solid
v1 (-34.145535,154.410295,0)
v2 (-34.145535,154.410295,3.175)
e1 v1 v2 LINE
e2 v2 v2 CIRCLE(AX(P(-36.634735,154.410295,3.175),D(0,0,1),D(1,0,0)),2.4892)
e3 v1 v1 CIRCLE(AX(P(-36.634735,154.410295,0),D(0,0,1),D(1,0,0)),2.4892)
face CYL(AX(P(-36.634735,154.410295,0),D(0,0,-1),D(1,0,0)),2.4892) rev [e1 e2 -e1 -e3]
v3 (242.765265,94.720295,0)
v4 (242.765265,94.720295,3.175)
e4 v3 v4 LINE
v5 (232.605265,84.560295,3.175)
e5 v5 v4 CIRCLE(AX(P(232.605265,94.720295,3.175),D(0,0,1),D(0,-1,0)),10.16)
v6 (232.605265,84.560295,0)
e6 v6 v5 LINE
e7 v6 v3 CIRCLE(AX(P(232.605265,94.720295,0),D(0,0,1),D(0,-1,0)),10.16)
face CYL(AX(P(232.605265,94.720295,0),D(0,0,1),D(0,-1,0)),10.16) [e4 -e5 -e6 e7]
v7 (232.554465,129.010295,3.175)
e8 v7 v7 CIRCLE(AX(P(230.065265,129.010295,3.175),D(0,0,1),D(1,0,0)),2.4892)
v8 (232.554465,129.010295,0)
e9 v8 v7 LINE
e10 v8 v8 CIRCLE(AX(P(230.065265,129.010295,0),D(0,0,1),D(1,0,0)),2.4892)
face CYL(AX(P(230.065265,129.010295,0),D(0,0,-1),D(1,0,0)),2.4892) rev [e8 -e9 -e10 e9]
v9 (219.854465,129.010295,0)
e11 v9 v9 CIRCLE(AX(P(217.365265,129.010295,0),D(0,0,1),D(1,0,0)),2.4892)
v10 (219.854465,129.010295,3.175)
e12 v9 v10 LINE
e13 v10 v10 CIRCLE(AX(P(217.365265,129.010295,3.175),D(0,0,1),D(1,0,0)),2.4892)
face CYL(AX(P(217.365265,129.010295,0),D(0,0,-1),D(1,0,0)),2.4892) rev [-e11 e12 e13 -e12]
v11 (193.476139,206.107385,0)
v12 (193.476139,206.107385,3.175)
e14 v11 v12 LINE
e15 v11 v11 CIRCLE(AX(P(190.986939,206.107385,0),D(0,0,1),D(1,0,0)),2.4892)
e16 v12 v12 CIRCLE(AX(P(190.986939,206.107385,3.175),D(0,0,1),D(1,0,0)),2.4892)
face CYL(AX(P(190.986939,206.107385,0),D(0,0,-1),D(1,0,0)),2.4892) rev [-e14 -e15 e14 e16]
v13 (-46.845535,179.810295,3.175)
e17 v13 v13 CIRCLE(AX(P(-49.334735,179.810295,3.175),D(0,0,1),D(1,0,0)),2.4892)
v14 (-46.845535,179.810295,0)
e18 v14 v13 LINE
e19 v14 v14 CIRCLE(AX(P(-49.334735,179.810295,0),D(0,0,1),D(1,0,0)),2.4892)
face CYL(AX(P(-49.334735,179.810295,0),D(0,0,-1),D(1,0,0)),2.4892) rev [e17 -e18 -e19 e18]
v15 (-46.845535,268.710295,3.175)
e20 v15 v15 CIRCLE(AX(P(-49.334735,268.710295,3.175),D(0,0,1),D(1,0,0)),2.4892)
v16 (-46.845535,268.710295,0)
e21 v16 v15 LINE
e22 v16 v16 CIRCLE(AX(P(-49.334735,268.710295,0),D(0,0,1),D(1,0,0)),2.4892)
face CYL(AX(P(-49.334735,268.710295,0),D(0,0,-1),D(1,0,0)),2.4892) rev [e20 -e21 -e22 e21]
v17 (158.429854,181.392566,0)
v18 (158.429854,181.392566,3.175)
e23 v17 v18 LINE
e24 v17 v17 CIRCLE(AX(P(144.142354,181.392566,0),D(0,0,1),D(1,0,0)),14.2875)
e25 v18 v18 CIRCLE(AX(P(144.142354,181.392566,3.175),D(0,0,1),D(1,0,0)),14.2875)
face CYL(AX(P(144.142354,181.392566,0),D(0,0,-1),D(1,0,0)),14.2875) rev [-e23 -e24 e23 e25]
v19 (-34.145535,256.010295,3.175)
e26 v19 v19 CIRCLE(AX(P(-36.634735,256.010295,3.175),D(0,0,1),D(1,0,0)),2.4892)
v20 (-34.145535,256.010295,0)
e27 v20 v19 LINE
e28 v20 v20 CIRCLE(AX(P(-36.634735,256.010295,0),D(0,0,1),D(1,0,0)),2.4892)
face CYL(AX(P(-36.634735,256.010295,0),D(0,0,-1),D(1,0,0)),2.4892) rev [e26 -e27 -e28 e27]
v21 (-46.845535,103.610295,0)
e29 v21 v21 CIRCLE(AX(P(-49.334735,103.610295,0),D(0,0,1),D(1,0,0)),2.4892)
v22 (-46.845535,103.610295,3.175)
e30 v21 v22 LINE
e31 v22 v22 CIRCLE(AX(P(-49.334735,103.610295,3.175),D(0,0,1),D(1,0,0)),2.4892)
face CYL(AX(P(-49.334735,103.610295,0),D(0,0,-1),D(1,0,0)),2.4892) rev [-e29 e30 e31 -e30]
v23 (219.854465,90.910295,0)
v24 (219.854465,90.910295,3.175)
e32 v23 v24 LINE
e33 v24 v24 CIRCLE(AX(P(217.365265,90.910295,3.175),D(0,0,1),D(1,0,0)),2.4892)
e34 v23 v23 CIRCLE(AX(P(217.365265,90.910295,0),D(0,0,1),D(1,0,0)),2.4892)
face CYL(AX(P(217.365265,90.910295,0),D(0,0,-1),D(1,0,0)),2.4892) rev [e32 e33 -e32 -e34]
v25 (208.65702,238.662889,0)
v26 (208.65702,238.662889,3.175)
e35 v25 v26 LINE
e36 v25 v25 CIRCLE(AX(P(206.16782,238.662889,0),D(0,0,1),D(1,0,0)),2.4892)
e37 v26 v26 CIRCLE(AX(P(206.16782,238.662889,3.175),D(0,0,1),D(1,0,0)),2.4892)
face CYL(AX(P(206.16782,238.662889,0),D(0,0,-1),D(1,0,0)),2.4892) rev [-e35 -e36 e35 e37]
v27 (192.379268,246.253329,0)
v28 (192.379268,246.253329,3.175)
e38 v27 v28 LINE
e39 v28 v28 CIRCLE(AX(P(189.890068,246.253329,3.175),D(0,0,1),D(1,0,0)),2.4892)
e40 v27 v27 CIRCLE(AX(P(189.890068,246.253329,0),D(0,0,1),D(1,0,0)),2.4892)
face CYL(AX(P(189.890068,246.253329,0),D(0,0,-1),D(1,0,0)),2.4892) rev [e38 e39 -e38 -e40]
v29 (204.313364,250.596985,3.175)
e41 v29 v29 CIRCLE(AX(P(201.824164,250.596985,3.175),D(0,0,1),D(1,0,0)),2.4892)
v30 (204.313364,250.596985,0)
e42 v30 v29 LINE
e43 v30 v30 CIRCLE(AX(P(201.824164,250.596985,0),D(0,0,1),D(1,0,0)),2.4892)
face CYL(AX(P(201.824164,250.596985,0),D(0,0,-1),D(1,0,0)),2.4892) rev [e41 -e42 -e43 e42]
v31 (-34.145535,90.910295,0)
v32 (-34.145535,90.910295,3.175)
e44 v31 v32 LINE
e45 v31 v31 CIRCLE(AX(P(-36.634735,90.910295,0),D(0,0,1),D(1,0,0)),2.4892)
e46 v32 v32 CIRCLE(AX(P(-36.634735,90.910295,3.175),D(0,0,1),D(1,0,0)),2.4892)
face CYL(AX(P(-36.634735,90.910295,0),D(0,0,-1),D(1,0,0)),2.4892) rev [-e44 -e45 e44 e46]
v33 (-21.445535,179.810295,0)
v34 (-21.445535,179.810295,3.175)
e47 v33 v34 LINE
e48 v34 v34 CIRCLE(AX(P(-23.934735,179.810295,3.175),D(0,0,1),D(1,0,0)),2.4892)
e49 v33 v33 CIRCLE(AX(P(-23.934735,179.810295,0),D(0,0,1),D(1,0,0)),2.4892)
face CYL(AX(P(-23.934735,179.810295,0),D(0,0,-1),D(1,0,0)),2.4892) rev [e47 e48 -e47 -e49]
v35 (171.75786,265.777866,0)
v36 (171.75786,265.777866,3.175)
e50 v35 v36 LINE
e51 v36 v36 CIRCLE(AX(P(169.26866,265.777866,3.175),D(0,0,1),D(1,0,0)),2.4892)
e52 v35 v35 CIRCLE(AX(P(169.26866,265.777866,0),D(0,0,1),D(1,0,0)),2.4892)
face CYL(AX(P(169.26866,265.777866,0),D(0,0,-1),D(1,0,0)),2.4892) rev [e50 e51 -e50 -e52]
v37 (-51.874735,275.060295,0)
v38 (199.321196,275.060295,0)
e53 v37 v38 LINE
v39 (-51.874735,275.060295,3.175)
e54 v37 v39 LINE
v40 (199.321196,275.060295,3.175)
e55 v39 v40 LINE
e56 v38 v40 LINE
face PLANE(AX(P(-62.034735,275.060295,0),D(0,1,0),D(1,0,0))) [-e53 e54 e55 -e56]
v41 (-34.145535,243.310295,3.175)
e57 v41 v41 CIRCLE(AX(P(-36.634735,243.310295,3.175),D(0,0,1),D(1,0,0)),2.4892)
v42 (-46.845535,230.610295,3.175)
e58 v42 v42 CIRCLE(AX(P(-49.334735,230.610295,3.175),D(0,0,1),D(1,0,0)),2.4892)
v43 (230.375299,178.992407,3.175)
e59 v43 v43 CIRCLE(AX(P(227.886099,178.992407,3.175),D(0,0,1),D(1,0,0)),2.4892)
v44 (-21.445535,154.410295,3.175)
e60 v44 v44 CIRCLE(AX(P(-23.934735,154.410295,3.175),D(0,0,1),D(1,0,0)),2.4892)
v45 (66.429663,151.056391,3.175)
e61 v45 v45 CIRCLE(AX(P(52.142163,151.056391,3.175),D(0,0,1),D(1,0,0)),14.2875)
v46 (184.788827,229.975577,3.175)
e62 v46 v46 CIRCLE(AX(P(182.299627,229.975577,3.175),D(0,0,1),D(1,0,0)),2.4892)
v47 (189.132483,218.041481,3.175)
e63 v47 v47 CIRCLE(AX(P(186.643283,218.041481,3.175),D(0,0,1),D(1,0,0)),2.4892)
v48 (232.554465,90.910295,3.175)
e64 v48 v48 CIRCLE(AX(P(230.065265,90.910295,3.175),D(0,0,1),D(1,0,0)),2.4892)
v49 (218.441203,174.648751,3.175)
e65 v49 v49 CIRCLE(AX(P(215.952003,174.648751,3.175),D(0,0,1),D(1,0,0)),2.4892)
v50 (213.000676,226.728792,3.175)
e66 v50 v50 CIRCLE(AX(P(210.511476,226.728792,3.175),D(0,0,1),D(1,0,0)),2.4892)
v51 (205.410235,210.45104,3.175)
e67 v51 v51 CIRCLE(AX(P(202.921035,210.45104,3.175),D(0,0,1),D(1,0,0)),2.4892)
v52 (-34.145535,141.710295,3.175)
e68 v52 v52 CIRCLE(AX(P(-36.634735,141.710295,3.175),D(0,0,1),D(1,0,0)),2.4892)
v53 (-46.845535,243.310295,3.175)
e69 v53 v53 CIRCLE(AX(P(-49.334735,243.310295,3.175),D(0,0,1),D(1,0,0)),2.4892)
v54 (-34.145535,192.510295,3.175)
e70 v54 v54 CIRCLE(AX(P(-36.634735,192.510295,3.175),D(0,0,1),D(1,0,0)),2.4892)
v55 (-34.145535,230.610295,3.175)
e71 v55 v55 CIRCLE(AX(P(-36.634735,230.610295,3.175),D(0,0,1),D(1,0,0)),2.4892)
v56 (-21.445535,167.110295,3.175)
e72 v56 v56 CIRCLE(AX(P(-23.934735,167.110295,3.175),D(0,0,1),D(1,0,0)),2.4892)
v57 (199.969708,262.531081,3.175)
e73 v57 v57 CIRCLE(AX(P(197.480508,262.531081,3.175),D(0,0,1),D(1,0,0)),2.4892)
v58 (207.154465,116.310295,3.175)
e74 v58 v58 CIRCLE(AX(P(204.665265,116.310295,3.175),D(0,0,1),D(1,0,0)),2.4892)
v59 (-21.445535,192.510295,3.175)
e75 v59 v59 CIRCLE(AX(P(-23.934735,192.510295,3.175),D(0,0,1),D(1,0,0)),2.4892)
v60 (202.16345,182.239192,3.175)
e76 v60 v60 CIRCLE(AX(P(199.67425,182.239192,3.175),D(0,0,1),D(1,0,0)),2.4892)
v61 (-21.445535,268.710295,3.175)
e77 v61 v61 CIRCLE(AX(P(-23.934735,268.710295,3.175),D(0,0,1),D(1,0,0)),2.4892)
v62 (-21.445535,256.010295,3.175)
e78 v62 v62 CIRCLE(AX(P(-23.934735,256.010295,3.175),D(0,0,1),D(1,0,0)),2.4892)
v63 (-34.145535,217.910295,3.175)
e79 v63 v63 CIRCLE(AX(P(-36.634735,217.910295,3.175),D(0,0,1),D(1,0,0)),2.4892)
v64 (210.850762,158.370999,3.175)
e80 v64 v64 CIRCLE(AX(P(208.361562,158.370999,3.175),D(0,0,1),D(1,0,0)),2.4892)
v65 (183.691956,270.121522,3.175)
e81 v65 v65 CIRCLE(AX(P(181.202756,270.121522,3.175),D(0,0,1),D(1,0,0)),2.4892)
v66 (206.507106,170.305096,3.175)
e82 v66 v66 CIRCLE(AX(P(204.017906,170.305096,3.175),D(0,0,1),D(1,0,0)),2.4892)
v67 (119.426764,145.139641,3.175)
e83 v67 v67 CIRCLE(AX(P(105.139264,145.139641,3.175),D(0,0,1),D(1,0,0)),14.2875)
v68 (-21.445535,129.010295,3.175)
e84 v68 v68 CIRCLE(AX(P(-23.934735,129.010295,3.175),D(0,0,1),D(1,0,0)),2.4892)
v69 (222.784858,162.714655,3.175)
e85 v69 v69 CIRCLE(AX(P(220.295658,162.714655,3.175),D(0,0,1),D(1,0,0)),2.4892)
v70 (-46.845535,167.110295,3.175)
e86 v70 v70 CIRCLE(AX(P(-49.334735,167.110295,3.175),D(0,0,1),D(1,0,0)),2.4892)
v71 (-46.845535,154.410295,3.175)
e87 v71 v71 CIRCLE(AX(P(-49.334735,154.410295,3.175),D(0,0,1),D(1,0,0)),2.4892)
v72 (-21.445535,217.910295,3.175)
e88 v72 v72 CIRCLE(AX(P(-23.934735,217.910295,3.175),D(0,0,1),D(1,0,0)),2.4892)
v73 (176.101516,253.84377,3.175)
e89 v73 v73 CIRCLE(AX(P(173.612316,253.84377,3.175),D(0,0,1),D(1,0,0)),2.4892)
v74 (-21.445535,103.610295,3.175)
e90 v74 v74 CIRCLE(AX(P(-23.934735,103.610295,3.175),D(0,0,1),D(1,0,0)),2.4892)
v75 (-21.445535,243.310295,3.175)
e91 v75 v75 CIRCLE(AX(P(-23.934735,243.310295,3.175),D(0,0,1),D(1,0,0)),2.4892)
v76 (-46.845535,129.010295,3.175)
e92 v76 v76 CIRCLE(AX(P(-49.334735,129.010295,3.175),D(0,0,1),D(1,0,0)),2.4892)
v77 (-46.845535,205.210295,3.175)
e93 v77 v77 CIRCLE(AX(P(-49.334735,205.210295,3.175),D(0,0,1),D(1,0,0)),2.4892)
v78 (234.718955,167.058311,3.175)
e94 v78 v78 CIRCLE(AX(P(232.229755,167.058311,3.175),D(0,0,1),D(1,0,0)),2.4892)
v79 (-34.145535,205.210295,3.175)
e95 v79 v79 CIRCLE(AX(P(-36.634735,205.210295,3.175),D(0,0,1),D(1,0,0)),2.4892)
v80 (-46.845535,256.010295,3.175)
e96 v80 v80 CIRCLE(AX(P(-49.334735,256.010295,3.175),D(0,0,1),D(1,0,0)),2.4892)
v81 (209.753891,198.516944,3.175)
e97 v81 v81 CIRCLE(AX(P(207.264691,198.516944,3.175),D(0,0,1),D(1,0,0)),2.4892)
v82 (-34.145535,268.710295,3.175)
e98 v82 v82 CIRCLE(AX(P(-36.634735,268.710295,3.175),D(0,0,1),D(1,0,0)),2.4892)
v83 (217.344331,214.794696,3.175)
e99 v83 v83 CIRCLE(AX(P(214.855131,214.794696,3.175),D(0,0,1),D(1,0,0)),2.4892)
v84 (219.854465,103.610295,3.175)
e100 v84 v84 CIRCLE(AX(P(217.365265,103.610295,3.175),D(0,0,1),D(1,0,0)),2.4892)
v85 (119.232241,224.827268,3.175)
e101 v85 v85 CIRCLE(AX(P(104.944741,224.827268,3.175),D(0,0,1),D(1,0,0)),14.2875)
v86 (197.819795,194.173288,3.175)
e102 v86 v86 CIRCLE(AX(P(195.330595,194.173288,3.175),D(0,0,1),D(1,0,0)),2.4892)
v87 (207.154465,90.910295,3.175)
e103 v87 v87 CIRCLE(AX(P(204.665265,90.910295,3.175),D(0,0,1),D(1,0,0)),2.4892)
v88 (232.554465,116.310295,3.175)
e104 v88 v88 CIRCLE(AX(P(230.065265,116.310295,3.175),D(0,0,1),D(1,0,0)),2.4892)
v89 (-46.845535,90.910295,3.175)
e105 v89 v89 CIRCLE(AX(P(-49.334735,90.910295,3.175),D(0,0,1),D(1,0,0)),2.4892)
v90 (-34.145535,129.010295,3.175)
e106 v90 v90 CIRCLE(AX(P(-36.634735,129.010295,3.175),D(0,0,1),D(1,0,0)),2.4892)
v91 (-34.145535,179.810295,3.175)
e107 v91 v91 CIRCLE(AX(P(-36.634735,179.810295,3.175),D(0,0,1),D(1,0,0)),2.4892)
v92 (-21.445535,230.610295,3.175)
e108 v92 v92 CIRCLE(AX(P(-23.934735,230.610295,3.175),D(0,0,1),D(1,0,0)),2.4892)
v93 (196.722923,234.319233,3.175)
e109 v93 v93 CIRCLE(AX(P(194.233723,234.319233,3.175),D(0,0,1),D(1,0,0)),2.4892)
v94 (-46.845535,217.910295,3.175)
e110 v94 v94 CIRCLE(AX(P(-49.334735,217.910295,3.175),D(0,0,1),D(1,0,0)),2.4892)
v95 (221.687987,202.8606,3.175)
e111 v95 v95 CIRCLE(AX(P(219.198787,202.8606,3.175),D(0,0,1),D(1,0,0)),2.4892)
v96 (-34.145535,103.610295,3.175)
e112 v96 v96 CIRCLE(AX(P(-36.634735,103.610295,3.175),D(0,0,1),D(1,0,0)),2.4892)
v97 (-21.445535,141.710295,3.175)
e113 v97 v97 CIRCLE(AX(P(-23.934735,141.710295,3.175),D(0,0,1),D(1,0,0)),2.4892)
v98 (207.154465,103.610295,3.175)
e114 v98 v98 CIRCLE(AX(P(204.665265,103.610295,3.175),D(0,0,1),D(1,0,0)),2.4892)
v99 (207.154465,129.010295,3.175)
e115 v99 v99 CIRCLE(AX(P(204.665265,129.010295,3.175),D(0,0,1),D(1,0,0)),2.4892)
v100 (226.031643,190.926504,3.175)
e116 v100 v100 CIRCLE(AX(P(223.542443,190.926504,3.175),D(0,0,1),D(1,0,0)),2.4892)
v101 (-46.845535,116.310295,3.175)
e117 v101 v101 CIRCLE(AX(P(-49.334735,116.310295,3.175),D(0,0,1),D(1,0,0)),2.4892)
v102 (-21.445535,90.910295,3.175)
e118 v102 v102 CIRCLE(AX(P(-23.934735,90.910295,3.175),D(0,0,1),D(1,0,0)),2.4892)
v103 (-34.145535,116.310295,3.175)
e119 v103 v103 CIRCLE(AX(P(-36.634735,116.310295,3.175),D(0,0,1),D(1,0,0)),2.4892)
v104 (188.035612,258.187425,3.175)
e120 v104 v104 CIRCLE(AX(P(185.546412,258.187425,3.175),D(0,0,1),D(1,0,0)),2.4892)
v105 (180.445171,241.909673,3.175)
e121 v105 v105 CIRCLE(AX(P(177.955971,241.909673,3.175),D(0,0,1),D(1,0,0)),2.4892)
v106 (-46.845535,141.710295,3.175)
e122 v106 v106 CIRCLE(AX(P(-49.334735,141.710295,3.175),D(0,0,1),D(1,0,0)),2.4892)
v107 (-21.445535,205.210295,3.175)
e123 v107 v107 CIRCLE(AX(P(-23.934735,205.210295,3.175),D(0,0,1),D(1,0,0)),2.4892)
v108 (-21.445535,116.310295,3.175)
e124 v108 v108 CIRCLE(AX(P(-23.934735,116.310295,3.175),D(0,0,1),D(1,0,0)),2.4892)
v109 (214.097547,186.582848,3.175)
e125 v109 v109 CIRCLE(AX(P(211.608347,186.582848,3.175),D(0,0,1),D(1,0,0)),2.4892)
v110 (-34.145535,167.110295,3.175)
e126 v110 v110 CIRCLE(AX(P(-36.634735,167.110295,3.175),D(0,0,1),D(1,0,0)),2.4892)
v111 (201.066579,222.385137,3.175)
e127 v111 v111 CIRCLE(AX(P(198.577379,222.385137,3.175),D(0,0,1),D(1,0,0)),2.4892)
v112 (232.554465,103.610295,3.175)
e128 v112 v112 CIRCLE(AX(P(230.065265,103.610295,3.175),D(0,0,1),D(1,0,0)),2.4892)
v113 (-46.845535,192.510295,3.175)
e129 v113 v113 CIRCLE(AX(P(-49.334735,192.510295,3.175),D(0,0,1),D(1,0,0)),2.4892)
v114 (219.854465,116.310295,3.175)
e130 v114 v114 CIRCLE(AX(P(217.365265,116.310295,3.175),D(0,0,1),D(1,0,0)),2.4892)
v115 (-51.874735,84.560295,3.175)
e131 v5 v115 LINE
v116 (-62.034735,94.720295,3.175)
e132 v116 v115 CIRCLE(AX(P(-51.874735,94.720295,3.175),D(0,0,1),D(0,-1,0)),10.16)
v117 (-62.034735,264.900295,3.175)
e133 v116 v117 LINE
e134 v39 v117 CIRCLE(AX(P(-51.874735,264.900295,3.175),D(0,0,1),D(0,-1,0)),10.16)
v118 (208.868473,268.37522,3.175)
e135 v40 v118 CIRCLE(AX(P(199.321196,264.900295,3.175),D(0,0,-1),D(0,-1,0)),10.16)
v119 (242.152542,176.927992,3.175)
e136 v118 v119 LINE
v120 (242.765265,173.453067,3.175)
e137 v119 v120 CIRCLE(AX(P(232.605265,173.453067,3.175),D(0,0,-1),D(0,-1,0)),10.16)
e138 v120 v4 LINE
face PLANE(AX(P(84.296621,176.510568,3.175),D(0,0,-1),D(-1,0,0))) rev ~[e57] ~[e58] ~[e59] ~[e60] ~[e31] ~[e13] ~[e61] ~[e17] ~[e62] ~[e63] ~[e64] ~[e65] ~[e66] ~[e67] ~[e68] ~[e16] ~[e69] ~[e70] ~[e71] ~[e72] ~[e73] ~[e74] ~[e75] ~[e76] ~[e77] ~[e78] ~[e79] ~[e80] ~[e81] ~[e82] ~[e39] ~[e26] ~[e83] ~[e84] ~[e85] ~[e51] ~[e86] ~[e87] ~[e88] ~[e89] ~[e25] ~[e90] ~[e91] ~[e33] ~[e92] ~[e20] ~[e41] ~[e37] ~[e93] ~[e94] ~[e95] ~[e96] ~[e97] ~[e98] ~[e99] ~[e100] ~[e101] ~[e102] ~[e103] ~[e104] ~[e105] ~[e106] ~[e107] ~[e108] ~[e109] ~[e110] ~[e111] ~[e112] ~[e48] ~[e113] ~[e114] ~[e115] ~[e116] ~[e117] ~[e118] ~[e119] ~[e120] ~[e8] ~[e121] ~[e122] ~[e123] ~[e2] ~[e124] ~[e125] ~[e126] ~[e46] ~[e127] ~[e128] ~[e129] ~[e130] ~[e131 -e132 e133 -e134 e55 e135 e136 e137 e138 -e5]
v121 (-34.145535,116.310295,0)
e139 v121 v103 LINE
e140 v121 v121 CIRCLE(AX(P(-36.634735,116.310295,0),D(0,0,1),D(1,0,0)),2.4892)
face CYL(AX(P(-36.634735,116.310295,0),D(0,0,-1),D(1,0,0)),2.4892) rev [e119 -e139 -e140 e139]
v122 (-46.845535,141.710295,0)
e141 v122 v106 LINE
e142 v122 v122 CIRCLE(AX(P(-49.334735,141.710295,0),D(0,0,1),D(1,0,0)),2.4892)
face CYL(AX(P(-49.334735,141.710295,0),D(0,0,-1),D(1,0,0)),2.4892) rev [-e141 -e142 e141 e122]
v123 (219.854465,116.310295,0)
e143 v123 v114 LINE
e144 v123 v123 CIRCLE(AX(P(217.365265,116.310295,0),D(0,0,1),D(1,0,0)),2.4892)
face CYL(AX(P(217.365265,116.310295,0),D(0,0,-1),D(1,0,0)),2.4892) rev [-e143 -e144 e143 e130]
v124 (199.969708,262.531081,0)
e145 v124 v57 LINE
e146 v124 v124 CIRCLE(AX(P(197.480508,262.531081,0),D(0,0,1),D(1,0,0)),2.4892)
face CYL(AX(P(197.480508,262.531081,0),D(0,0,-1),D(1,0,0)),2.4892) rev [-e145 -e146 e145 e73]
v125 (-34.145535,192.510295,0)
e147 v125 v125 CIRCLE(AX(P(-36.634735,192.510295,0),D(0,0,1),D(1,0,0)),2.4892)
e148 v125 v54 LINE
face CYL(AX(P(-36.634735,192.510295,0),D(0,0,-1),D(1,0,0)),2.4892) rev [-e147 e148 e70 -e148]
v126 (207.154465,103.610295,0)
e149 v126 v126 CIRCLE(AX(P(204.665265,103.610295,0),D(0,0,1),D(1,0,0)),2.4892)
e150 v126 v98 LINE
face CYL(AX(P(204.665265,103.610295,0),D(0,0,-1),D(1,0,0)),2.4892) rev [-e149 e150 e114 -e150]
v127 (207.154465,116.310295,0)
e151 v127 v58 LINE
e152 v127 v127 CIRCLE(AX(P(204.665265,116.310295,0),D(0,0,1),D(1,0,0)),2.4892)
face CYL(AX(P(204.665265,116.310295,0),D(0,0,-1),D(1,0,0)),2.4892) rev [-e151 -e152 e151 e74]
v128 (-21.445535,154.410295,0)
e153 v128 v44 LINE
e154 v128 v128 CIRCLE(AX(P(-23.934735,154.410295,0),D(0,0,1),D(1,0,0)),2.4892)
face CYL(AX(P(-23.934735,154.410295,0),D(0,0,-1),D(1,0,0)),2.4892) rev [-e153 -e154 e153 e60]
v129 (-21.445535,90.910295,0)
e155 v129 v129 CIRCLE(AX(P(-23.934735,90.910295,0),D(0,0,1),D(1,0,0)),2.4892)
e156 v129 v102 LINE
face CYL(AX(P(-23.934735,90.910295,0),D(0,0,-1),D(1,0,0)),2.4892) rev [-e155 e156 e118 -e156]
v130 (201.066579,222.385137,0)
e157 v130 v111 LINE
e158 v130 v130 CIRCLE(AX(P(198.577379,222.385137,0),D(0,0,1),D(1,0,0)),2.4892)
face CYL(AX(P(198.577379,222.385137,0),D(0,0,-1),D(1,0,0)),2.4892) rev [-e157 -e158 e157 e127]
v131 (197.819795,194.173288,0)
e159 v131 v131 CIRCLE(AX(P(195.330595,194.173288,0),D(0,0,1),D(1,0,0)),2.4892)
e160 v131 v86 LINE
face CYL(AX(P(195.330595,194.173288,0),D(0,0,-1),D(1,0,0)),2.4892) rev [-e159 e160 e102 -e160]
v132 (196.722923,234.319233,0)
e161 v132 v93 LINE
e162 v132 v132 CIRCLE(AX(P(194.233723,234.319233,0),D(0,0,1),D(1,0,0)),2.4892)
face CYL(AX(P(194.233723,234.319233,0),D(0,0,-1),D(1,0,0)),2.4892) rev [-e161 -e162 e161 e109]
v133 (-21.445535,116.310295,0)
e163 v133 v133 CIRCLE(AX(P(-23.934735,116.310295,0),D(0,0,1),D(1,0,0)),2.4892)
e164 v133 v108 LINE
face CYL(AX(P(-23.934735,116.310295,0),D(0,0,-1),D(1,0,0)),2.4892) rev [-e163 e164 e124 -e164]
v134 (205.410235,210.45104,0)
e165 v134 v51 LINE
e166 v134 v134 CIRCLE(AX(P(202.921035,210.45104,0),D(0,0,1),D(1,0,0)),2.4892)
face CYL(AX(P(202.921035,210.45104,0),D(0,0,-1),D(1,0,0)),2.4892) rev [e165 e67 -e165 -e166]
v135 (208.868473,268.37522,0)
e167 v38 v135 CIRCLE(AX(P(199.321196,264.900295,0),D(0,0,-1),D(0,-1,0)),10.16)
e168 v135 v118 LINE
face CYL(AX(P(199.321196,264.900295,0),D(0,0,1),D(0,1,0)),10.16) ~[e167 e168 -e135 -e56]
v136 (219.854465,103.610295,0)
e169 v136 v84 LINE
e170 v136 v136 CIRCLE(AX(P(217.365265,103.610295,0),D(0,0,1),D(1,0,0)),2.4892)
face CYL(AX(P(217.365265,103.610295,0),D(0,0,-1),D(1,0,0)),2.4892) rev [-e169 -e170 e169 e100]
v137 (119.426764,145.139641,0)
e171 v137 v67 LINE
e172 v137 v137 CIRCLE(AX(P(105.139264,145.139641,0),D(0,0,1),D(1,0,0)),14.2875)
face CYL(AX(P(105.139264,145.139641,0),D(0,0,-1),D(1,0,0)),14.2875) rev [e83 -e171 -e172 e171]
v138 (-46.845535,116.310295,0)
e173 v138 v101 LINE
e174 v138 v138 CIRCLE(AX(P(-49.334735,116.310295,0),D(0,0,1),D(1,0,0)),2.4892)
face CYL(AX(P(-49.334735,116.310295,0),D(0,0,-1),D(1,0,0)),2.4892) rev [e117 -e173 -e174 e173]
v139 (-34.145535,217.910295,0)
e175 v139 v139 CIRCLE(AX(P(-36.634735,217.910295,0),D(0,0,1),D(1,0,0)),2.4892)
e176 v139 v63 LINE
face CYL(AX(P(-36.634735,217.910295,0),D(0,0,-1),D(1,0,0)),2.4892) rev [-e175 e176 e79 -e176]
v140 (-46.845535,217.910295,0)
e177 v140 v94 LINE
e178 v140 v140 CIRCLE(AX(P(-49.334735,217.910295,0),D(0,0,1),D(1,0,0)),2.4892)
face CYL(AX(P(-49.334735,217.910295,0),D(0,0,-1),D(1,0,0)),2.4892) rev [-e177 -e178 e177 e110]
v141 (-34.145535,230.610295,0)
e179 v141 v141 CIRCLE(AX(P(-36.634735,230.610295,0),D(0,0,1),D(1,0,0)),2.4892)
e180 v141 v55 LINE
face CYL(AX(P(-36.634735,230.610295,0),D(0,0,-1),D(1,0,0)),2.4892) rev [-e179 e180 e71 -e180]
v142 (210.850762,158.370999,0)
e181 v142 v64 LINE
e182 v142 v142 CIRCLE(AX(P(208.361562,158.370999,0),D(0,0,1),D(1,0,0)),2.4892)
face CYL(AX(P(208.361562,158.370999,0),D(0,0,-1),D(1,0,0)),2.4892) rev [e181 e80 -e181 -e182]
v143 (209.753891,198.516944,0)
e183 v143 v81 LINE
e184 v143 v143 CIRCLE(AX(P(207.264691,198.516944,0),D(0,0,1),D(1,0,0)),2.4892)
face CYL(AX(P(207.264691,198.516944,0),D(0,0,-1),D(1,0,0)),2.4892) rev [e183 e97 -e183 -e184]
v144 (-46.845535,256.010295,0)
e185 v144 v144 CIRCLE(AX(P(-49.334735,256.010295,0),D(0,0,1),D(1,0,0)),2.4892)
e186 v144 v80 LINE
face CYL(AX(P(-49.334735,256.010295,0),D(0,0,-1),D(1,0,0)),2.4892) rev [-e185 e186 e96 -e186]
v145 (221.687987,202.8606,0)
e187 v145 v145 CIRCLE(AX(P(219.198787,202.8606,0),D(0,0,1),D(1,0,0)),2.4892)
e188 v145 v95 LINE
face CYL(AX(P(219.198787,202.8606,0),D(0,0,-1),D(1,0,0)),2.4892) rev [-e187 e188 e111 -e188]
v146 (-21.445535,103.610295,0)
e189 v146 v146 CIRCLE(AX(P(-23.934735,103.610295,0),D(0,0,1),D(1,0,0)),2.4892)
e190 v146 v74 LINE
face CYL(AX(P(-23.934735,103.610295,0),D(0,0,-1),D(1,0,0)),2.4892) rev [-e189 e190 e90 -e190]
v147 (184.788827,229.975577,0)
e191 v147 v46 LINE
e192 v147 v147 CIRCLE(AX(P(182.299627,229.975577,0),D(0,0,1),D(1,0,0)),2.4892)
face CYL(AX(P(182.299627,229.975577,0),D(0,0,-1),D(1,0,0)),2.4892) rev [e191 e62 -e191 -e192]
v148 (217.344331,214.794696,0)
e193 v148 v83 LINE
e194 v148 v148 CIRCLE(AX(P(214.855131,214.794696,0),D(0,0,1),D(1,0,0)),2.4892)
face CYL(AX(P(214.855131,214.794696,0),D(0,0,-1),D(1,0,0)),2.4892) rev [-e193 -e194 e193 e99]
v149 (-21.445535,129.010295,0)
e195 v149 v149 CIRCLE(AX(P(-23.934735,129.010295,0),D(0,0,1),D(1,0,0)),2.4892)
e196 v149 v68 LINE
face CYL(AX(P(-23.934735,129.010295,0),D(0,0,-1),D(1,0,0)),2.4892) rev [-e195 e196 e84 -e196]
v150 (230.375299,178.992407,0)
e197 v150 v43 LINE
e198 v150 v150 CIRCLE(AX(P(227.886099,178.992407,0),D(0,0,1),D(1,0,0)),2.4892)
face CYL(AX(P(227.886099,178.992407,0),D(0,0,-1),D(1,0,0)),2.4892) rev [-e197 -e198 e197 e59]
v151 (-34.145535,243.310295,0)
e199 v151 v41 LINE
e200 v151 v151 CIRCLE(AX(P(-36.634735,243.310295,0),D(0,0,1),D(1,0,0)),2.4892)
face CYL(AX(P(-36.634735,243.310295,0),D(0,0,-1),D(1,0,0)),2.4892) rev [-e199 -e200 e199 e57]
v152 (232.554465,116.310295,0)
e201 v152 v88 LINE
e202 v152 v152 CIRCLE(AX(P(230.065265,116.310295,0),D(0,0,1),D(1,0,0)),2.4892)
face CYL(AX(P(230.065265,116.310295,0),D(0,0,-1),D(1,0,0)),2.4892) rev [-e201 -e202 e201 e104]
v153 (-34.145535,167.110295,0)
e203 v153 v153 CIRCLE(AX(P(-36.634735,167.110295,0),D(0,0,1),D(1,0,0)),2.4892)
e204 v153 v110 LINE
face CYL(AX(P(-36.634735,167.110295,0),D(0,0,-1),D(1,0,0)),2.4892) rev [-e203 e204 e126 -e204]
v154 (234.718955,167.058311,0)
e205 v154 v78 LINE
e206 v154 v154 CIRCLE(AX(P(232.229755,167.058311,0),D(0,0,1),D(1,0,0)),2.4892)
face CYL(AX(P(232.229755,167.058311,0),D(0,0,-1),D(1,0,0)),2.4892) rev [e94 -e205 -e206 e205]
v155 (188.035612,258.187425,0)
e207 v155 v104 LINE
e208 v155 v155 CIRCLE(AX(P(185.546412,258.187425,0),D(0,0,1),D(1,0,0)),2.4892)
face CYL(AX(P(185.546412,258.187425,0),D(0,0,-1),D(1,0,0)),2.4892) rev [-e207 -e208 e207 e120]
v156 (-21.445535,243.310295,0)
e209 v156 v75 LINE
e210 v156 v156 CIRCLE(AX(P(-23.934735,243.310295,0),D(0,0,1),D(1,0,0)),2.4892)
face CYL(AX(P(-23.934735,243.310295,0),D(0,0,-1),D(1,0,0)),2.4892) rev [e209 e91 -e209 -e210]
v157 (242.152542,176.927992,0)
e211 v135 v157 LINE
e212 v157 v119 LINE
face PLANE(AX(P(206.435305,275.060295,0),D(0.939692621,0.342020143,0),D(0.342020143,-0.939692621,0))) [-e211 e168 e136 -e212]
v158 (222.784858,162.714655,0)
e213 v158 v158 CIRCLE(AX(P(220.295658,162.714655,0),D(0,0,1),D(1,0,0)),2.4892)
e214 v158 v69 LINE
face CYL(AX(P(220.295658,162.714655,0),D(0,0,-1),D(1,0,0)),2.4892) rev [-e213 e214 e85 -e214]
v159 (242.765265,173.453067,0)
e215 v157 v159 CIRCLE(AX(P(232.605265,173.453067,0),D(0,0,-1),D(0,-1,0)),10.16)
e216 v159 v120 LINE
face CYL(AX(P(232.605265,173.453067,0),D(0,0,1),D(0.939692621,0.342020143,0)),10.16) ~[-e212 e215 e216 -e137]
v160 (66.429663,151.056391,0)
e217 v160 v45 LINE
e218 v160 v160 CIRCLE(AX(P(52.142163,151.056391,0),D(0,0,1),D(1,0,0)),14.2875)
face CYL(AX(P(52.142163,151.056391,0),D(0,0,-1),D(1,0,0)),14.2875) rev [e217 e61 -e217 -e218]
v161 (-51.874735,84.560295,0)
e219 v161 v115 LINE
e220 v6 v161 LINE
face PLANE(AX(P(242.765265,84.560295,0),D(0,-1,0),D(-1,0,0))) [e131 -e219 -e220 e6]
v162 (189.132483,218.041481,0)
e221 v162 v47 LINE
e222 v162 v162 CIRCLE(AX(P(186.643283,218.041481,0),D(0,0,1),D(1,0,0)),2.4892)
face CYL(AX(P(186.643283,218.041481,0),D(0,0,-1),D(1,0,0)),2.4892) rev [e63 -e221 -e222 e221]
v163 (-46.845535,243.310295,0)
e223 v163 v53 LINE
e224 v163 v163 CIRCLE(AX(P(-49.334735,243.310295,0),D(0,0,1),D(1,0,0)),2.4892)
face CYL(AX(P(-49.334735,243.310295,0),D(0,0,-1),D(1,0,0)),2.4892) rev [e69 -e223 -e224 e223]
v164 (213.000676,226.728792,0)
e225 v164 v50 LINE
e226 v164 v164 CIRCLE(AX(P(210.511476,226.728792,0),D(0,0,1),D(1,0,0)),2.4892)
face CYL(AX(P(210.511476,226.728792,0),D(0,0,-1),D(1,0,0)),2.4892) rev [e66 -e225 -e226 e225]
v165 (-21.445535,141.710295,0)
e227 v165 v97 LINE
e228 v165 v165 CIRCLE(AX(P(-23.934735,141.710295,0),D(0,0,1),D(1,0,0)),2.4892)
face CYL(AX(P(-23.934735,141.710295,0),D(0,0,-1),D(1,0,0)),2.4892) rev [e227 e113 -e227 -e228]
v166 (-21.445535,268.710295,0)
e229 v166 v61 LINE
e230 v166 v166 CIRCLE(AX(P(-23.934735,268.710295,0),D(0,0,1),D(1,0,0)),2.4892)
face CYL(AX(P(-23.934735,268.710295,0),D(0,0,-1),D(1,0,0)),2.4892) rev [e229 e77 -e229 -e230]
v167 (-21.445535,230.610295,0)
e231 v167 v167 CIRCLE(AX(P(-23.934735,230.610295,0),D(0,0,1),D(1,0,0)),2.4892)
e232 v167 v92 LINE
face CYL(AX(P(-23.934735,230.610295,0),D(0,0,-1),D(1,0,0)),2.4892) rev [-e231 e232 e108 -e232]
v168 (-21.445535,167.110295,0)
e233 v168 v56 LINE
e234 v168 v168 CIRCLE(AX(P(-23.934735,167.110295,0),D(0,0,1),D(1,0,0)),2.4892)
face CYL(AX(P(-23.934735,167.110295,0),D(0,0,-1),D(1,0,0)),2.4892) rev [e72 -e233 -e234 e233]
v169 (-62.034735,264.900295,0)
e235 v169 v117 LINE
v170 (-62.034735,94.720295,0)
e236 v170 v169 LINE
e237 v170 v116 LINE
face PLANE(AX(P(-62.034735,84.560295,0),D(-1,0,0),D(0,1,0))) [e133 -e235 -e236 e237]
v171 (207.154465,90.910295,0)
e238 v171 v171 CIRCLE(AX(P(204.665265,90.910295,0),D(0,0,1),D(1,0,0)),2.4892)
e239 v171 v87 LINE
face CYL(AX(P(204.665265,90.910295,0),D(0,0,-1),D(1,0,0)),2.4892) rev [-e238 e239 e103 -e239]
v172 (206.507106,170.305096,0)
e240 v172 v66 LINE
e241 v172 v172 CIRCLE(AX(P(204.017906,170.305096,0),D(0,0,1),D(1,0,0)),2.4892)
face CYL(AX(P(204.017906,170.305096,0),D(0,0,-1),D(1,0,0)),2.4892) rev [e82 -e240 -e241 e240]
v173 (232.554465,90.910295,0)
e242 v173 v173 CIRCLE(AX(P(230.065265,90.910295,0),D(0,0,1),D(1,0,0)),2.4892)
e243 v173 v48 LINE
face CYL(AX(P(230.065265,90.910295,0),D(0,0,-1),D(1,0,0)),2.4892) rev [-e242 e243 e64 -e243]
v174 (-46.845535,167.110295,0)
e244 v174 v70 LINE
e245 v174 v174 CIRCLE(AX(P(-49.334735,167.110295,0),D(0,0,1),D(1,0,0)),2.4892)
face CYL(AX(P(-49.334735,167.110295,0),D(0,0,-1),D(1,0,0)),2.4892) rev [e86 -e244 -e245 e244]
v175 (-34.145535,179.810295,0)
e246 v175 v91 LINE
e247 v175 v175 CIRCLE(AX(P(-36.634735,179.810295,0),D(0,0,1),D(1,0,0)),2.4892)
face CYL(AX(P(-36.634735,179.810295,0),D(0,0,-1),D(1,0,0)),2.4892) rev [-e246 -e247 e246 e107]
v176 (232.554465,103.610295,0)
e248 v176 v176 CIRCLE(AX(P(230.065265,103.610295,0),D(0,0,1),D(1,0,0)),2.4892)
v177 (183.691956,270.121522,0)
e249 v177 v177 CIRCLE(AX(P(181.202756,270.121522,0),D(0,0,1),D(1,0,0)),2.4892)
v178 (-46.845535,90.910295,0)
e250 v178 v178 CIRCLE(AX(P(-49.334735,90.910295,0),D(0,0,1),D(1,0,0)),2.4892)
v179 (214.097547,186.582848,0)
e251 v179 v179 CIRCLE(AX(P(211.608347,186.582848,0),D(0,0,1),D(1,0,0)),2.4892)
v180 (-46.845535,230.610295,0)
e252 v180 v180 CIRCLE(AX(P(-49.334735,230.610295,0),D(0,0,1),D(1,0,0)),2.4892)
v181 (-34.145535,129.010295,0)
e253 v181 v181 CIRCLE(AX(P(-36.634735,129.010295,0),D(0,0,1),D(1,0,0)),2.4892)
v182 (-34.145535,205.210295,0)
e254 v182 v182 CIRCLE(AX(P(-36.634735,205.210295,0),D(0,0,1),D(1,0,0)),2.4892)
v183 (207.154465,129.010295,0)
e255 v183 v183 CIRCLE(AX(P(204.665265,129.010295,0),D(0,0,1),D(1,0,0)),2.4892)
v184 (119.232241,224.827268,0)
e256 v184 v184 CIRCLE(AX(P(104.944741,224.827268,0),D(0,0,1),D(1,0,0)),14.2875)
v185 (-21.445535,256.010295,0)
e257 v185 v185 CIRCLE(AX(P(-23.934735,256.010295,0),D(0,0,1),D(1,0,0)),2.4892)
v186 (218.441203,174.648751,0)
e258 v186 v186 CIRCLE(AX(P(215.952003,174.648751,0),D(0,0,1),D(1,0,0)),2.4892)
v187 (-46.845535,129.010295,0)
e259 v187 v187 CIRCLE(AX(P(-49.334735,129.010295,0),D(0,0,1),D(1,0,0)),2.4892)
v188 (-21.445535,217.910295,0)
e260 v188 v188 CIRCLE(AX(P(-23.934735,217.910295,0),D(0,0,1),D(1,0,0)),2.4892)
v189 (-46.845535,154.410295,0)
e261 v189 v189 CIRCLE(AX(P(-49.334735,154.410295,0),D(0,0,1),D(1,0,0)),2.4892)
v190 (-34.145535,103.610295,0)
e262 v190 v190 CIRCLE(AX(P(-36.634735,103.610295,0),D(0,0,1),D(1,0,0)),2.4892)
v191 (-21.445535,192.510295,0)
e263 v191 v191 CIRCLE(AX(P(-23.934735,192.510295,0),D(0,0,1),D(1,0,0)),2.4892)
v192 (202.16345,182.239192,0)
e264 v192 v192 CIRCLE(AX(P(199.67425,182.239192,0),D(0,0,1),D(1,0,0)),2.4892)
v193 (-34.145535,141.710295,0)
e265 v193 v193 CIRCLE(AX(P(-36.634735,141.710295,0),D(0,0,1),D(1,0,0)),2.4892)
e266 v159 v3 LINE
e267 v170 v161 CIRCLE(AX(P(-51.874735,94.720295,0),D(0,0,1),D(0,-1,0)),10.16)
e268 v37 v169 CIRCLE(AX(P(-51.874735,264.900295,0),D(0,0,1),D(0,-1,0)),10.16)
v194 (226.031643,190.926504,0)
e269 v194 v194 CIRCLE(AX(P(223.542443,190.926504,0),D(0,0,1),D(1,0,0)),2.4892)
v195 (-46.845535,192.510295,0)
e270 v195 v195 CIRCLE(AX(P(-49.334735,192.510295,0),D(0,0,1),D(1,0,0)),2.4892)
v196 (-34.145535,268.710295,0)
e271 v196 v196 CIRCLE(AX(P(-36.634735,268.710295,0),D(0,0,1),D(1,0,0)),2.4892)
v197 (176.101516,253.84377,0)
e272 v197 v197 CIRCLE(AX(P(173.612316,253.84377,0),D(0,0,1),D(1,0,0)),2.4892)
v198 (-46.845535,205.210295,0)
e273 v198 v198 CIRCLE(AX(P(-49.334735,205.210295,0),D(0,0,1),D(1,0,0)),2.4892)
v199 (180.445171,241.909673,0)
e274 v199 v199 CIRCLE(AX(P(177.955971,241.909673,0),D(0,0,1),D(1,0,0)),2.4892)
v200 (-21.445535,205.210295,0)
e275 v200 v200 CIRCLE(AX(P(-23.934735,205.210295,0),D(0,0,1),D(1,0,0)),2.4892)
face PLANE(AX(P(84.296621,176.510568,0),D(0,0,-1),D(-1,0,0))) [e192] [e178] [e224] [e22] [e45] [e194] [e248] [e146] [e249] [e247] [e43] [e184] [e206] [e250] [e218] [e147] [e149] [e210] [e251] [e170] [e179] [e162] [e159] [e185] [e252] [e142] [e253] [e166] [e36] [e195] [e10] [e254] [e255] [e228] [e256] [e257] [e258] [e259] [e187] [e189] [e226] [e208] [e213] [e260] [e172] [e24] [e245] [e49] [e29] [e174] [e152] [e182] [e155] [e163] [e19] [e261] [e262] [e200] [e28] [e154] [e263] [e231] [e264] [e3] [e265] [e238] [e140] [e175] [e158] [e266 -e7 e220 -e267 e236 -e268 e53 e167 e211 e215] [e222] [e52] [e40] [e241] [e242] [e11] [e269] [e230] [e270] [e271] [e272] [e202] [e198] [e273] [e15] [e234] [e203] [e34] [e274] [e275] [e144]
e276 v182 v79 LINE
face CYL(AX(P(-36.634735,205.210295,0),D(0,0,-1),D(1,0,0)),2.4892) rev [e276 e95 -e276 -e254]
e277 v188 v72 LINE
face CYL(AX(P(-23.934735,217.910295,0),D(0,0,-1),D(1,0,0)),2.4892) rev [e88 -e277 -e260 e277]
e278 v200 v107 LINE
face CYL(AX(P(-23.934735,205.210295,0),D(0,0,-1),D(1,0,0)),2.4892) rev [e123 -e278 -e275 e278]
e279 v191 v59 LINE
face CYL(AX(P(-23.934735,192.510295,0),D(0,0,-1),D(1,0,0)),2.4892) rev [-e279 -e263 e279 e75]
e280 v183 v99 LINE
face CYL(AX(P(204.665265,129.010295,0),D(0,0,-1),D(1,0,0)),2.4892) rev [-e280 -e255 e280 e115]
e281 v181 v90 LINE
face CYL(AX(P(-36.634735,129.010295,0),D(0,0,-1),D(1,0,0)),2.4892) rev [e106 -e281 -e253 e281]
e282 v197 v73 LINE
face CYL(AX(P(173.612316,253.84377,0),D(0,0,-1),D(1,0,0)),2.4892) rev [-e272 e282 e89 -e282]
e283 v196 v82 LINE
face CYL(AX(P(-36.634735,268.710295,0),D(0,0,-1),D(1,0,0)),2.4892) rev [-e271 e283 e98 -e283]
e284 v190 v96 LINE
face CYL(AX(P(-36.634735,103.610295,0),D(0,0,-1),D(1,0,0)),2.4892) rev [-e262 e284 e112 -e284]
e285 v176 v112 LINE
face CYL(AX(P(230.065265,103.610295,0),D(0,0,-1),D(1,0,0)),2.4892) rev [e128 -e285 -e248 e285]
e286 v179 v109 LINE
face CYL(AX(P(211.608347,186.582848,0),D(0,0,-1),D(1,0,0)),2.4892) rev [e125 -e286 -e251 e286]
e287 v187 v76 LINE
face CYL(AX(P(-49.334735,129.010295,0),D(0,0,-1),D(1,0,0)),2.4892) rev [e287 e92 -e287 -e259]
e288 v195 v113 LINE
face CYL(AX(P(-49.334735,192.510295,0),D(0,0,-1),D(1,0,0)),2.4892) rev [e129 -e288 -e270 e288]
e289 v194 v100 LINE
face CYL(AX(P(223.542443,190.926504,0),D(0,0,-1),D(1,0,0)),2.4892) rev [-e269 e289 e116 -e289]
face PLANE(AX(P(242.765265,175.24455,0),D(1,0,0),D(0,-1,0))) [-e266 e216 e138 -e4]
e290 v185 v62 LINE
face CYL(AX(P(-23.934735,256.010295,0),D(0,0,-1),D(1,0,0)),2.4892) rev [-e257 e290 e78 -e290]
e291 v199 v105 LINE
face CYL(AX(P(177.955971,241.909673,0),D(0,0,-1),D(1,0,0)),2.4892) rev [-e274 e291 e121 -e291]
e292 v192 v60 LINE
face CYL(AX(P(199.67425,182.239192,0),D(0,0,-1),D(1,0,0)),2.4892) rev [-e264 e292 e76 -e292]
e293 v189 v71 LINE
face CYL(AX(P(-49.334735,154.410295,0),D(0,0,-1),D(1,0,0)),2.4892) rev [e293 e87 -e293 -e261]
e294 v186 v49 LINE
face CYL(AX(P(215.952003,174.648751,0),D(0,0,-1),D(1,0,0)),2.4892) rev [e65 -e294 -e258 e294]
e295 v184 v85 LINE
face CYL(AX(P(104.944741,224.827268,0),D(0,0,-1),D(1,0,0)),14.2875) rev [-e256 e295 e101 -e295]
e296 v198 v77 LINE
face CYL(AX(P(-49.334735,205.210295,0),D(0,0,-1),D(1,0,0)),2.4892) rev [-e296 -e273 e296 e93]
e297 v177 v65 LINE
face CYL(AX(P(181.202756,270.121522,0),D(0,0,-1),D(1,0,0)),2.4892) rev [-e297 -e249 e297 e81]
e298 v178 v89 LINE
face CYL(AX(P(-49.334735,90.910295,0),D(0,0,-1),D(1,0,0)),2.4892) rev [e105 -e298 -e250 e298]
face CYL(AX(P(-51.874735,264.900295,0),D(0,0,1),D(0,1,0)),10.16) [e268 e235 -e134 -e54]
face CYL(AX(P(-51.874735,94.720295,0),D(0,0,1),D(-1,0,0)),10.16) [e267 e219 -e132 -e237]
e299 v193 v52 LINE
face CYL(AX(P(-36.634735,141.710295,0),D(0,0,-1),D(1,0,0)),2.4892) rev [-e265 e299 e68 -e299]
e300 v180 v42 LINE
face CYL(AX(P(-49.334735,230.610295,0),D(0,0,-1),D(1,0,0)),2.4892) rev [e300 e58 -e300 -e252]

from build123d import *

# Parameters (mm, degrees)
SKETCH2_R           = 2.4892
SKETCH2_R_2         = 14.2875
BOSS_EXTRUDE1_DEPTH = 3.175
FILLET1_R           = 10.16


with BuildPart() as part:
    # Sketch2 → Boss-Extrude1 (new body)
    with BuildSketch(Plane.XY):
        Polygon((-62.034734806, 275.060295422), (206.435304788, 275.060295422), (242.765265194, 175.244549557), (242.765265194, 84.560295422), (-62.034734806, 84.560295422), align=None)
        with Locations((-49.334734806, 268.710295422)):
            Circle(SKETCH2_R, mode=Mode.SUBTRACT)
        with Locations((-49.334734806, 90.910295422)):
            Circle(SKETCH2_R, mode=Mode.SUBTRACT)
        with Locations((-36.634734806, 268.710295422)):
            Circle(SKETCH2_R, mode=Mode.SUBTRACT)
        with Locations((-23.934734806, 268.710295422)):
            Circle(SKETCH2_R, mode=Mode.SUBTRACT)
        with Locations((-36.634734806, 256.010295422)):
            Circle(SKETCH2_R, mode=Mode.SUBTRACT)
        with Locations((-23.934734806, 256.010295422)):
            Circle(SKETCH2_R, mode=Mode.SUBTRACT)
        with Locations((-36.634734806, 243.310295422)):
            Circle(SKETCH2_R, mode=Mode.SUBTRACT)
        with Locations((-23.934734806, 243.310295422)):
            Circle(SKETCH2_R, mode=Mode.SUBTRACT)
        with Locations((-36.634734806, 230.610295422)):
            Circle(SKETCH2_R, mode=Mode.SUBTRACT)
        with Locations((-23.934734806, 230.610295422)):
            Circle(SKETCH2_R, mode=Mode.SUBTRACT)
        with Locations((-36.634734806, 217.910295422)):
            Circle(SKETCH2_R, mode=Mode.SUBTRACT)
        with Locations((-23.934734806, 217.910295422)):
            Circle(SKETCH2_R, mode=Mode.SUBTRACT)
        with Locations((-36.634734806, 205.210295422)):
            Circle(SKETCH2_R, mode=Mode.SUBTRACT)
        with Locations((-23.934734806, 205.210295422)):
            Circle(SKETCH2_R, mode=Mode.SUBTRACT)
        with Locations((-36.634734806, 192.510295422)):
            Circle(SKETCH2_R, mode=Mode.SUBTRACT)
        with Locations((-23.934734806, 192.510295422)):
            Circle(SKETCH2_R, mode=Mode.SUBTRACT)
        with Locations((-36.634734806, 179.810295422)):
            Circle(SKETCH2_R, mode=Mode.SUBTRACT)
        with Locations((-23.934734806, 179.810295422)):
            Circle(SKETCH2_R, mode=Mode.SUBTRACT)
        with Locations((-36.634734806, 167.110295422)):
            Circle(SKETCH2_R, mode=Mode.SUBTRACT)
        with Locations((-23.934734806, 167.110295422)):
            Circle(SKETCH2_R, mode=Mode.SUBTRACT)
        with Locations((-36.634734806, 154.410295422)):
            Circle(SKETCH2_R, mode=Mode.SUBTRACT)
        with Locations((-23.934734806, 154.410295422)):
            Circle(SKETCH2_R, mode=Mode.SUBTRACT)
        with Locations((-36.634734806, 141.710295422)):
            Circle(SKETCH2_R, mode=Mode.SUBTRACT)
        with Locations((-23.934734806, 141.710295422)):
            Circle(SKETCH2_R, mode=Mode.SUBTRACT)
        with Locations((-36.634734806, 129.010295422)):
            Circle(SKETCH2_R, mode=Mode.SUBTRACT)
        with Locations((-23.934734806, 129.010295422)):
            Circle(SKETCH2_R, mode=Mode.SUBTRACT)
        with Locations((-36.634734806, 116.310295422)):
            Circle(SKETCH2_R, mode=Mode.SUBTRACT)
        with Locations((-23.934734806, 116.310295422)):
            Circle(SKETCH2_R, mode=Mode.SUBTRACT)
        with Locations((-36.634734806, 103.610295422)):
            Circle(SKETCH2_R, mode=Mode.SUBTRACT)
        with Locations((-23.934734806, 103.610295422)):
            Circle(SKETCH2_R, mode=Mode.SUBTRACT)
        with Locations((-36.634734806, 90.910295422)):
            Circle(SKETCH2_R, mode=Mode.SUBTRACT)
        with Locations((-23.934734806, 90.910295422)):
            Circle(SKETCH2_R, mode=Mode.SUBTRACT)
        with Locations((-49.334734806, 256.010295422)):
            Circle(SKETCH2_R, mode=Mode.SUBTRACT)
        with Locations((-49.334734806, 243.310295422)):
            Circle(SKETCH2_R, mode=Mode.SUBTRACT)
        with Locations((-49.334734806, 230.610295422)):
            Circle(SKETCH2_R, mode=Mode.SUBTRACT)
        with Locations((-49.334734806, 217.910295422)):
            Circle(SKETCH2_R, mode=Mode.SUBTRACT)
        with Locations((-49.334734806, 205.210295422)):
            Circle(SKETCH2_R, mode=Mode.SUBTRACT)
        with Locations((-49.334734806, 192.510295422)):
            Circle(SKETCH2_R, mode=Mode.SUBTRACT)
        with Locations((-49.334734806, 179.810295422)):
            Circle(SKETCH2_R, mode=Mode.SUBTRACT)
        with Locations((-49.334734806, 167.110295422)):
            Circle(SKETCH2_R, mode=Mode.SUBTRACT)
        with Locations((-49.334734806, 154.410295422)):
            Circle(SKETCH2_R, mode=Mode.SUBTRACT)
        with Locations((-49.334734806, 141.710295422)):
            Circle(SKETCH2_R, mode=Mode.SUBTRACT)
        with Locations((-49.334734806, 129.010295422)):
            Circle(SKETCH2_R, mode=Mode.SUBTRACT)
        with Locations((-49.334734806, 116.310295422)):
            Circle(SKETCH2_R, mode=Mode.SUBTRACT)
        with Locations((-49.334734806, 103.610295422)):
            Circle(SKETCH2_R, mode=Mode.SUBTRACT)
        with Locations((169.26865969, 265.77786594)):
            Circle(SKETCH2_R, mode=Mode.SUBTRACT)
        with Locations((181.202755974, 270.121521761)):
            Circle(SKETCH2_R, mode=Mode.SUBTRACT)
        with Locations((197.480508078, 262.531081297)):
            Circle(SKETCH2_R, mode=Mode.SUBTRACT)
        with Locations((173.61231551, 253.843769656)):
            Circle(SKETCH2_R, mode=Mode.SUBTRACT)
        with Locations((185.546411794, 258.187425477)):
            Circle(SKETCH2_R, mode=Mode.SUBTRACT)
        with Locations((201.824163899, 250.596985013)):
            Circle(SKETCH2_R, mode=Mode.SUBTRACT)
        with Locations((177.955971331, 241.909673372)):
            Circle(SKETCH2_R, mode=Mode.SUBTRACT)
        with Locations((189.890067615, 246.253329193)):
            Circle(SKETCH2_R, mode=Mode.SUBTRACT)
        with Locations((206.167819719, 238.662888729)):
            Circle(SKETCH2_R, mode=Mode.SUBTRACT)
        with Locations((182.299627151, 229.975577088)):
            Circle(SKETCH2_R, mode=Mode.SUBTRACT)
        with Locations((194.233723435, 234.319232909)):
            Circle(SKETCH2_R, mode=Mode.SUBTRACT)
        with Locations((210.511475539, 226.728792445)):
            Circle(SKETCH2_R, mode=Mode.SUBTRACT)
        with Locations((186.643282971, 218.041480804)):
            Circle(SKETCH2_R, mode=Mode.SUBTRACT)
        with Locations((198.577379255, 222.385136625)):
            Circle(SKETCH2_R, mode=Mode.SUBTRACT)
        with Locations((214.855131359, 214.794696161)):
            Circle(SKETCH2_R, mode=Mode.SUBTRACT)
        with Locations((190.986938791, 206.10738452)):
            Circle(SKETCH2_R, mode=Mode.SUBTRACT)
        with Locations((202.921035075, 210.451040341)):
            Circle(SKETCH2_R, mode=Mode.SUBTRACT)
        with Locations((219.19878718, 202.860599877)):
            Circle(SKETCH2_R, mode=Mode.SUBTRACT)
        with Locations((195.330594612, 194.173288236)):
            Circle(SKETCH2_R, mode=Mode.SUBTRACT)
        with Locations((207.264690896, 198.516944057)):
            Circle(SKETCH2_R, mode=Mode.SUBTRACT)
        with Locations((223.542443, 190.926503593)):
            Circle(SKETCH2_R, mode=Mode.SUBTRACT)
        with Locations((199.674250432, 182.239191952)):
            Circle(SKETCH2_R, mode=Mode.SUBTRACT)
        with Locations((211.608346716, 186.582847773)):
            Circle(SKETCH2_R, mode=Mode.SUBTRACT)
        with Locations((227.88609882, 178.992407309)):
            Circle(SKETCH2_R, mode=Mode.SUBTRACT)
        with Locations((204.017906252, 170.305095668)):
            Circle(SKETCH2_R, mode=Mode.SUBTRACT)
        with Locations((215.952002536, 174.648751489)):
            Circle(SKETCH2_R, mode=Mode.SUBTRACT)
        with Locations((232.22975464, 167.058311025)):
            Circle(SKETCH2_R, mode=Mode.SUBTRACT)
        with Locations((208.361562072, 158.370999384)):
            Circle(SKETCH2_R, mode=Mode.SUBTRACT)
        with Locations((220.295658356, 162.714655205)):
            Circle(SKETCH2_R, mode=Mode.SUBTRACT)
        with Locations((204.665265194, 129.010295422)):
            Circle(SKETCH2_R, mode=Mode.SUBTRACT)
        with Locations((217.365265194, 129.010295422)):
            Circle(SKETCH2_R, mode=Mode.SUBTRACT)
        with Locations((230.065265194, 129.010295422)):
            Circle(SKETCH2_R, mode=Mode.SUBTRACT)
        with Locations((204.665265194, 116.310295422)):
            Circle(SKETCH2_R, mode=Mode.SUBTRACT)
        with Locations((217.365265194, 116.310295422)):
            Circle(SKETCH2_R, mode=Mode.SUBTRACT)
        with Locations((230.065265194, 116.310295422)):
            Circle(SKETCH2_R, mode=Mode.SUBTRACT)
        with Locations((204.665265194, 103.610295422)):
            Circle(SKETCH2_R, mode=Mode.SUBTRACT)
        with Locations((217.365265194, 103.610295422)):
            Circle(SKETCH2_R, mode=Mode.SUBTRACT)
        with Locations((230.065265194, 103.610295422)):
            Circle(SKETCH2_R, mode=Mode.SUBTRACT)
        with Locations((204.665265194, 90.910295422)):
            Circle(SKETCH2_R, mode=Mode.SUBTRACT)
        with Locations((217.365265194, 90.910295422)):
            Circle(SKETCH2_R, mode=Mode.SUBTRACT)
        with Locations((230.065265194, 90.910295422)):
            Circle(SKETCH2_R, mode=Mode.SUBTRACT)
        with Locations((52.142163008, 151.05639055)):
            Circle(SKETCH2_R_2, mode=Mode.SUBTRACT)
        with Locations((105.13926409, 145.139641068)):
            Circle(SKETCH2_R_2, mode=Mode.SUBTRACT)
        with Locations((104.944740556, 224.82726801)):
            Circle(SKETCH2_R_2, mode=Mode.SUBTRACT)
        with Locations((144.142354475, 181.392565924)):
            Circle(SKETCH2_R_2, mode=Mode.SUBTRACT)
    extrude(amount=BOSS_EXTRUDE1_DEPTH)

    # Fillet1
    fillet1_edges = [part.edges().sort_by_distance(p)[0] for p in [
        (-62.034734806, 275.060295422, 1.5875),
        (206.435304788, 275.060295422, 1.5875),
        (242.765265194, 175.244549557, 1.5875),
        (242.765265194, 84.560295422, 1.5875),
        (-62.034734806, 84.560295422, 1.5875),
    ]]
    fillet(fillet1_edges, radius=FILLET1_R)


solid = part.part
